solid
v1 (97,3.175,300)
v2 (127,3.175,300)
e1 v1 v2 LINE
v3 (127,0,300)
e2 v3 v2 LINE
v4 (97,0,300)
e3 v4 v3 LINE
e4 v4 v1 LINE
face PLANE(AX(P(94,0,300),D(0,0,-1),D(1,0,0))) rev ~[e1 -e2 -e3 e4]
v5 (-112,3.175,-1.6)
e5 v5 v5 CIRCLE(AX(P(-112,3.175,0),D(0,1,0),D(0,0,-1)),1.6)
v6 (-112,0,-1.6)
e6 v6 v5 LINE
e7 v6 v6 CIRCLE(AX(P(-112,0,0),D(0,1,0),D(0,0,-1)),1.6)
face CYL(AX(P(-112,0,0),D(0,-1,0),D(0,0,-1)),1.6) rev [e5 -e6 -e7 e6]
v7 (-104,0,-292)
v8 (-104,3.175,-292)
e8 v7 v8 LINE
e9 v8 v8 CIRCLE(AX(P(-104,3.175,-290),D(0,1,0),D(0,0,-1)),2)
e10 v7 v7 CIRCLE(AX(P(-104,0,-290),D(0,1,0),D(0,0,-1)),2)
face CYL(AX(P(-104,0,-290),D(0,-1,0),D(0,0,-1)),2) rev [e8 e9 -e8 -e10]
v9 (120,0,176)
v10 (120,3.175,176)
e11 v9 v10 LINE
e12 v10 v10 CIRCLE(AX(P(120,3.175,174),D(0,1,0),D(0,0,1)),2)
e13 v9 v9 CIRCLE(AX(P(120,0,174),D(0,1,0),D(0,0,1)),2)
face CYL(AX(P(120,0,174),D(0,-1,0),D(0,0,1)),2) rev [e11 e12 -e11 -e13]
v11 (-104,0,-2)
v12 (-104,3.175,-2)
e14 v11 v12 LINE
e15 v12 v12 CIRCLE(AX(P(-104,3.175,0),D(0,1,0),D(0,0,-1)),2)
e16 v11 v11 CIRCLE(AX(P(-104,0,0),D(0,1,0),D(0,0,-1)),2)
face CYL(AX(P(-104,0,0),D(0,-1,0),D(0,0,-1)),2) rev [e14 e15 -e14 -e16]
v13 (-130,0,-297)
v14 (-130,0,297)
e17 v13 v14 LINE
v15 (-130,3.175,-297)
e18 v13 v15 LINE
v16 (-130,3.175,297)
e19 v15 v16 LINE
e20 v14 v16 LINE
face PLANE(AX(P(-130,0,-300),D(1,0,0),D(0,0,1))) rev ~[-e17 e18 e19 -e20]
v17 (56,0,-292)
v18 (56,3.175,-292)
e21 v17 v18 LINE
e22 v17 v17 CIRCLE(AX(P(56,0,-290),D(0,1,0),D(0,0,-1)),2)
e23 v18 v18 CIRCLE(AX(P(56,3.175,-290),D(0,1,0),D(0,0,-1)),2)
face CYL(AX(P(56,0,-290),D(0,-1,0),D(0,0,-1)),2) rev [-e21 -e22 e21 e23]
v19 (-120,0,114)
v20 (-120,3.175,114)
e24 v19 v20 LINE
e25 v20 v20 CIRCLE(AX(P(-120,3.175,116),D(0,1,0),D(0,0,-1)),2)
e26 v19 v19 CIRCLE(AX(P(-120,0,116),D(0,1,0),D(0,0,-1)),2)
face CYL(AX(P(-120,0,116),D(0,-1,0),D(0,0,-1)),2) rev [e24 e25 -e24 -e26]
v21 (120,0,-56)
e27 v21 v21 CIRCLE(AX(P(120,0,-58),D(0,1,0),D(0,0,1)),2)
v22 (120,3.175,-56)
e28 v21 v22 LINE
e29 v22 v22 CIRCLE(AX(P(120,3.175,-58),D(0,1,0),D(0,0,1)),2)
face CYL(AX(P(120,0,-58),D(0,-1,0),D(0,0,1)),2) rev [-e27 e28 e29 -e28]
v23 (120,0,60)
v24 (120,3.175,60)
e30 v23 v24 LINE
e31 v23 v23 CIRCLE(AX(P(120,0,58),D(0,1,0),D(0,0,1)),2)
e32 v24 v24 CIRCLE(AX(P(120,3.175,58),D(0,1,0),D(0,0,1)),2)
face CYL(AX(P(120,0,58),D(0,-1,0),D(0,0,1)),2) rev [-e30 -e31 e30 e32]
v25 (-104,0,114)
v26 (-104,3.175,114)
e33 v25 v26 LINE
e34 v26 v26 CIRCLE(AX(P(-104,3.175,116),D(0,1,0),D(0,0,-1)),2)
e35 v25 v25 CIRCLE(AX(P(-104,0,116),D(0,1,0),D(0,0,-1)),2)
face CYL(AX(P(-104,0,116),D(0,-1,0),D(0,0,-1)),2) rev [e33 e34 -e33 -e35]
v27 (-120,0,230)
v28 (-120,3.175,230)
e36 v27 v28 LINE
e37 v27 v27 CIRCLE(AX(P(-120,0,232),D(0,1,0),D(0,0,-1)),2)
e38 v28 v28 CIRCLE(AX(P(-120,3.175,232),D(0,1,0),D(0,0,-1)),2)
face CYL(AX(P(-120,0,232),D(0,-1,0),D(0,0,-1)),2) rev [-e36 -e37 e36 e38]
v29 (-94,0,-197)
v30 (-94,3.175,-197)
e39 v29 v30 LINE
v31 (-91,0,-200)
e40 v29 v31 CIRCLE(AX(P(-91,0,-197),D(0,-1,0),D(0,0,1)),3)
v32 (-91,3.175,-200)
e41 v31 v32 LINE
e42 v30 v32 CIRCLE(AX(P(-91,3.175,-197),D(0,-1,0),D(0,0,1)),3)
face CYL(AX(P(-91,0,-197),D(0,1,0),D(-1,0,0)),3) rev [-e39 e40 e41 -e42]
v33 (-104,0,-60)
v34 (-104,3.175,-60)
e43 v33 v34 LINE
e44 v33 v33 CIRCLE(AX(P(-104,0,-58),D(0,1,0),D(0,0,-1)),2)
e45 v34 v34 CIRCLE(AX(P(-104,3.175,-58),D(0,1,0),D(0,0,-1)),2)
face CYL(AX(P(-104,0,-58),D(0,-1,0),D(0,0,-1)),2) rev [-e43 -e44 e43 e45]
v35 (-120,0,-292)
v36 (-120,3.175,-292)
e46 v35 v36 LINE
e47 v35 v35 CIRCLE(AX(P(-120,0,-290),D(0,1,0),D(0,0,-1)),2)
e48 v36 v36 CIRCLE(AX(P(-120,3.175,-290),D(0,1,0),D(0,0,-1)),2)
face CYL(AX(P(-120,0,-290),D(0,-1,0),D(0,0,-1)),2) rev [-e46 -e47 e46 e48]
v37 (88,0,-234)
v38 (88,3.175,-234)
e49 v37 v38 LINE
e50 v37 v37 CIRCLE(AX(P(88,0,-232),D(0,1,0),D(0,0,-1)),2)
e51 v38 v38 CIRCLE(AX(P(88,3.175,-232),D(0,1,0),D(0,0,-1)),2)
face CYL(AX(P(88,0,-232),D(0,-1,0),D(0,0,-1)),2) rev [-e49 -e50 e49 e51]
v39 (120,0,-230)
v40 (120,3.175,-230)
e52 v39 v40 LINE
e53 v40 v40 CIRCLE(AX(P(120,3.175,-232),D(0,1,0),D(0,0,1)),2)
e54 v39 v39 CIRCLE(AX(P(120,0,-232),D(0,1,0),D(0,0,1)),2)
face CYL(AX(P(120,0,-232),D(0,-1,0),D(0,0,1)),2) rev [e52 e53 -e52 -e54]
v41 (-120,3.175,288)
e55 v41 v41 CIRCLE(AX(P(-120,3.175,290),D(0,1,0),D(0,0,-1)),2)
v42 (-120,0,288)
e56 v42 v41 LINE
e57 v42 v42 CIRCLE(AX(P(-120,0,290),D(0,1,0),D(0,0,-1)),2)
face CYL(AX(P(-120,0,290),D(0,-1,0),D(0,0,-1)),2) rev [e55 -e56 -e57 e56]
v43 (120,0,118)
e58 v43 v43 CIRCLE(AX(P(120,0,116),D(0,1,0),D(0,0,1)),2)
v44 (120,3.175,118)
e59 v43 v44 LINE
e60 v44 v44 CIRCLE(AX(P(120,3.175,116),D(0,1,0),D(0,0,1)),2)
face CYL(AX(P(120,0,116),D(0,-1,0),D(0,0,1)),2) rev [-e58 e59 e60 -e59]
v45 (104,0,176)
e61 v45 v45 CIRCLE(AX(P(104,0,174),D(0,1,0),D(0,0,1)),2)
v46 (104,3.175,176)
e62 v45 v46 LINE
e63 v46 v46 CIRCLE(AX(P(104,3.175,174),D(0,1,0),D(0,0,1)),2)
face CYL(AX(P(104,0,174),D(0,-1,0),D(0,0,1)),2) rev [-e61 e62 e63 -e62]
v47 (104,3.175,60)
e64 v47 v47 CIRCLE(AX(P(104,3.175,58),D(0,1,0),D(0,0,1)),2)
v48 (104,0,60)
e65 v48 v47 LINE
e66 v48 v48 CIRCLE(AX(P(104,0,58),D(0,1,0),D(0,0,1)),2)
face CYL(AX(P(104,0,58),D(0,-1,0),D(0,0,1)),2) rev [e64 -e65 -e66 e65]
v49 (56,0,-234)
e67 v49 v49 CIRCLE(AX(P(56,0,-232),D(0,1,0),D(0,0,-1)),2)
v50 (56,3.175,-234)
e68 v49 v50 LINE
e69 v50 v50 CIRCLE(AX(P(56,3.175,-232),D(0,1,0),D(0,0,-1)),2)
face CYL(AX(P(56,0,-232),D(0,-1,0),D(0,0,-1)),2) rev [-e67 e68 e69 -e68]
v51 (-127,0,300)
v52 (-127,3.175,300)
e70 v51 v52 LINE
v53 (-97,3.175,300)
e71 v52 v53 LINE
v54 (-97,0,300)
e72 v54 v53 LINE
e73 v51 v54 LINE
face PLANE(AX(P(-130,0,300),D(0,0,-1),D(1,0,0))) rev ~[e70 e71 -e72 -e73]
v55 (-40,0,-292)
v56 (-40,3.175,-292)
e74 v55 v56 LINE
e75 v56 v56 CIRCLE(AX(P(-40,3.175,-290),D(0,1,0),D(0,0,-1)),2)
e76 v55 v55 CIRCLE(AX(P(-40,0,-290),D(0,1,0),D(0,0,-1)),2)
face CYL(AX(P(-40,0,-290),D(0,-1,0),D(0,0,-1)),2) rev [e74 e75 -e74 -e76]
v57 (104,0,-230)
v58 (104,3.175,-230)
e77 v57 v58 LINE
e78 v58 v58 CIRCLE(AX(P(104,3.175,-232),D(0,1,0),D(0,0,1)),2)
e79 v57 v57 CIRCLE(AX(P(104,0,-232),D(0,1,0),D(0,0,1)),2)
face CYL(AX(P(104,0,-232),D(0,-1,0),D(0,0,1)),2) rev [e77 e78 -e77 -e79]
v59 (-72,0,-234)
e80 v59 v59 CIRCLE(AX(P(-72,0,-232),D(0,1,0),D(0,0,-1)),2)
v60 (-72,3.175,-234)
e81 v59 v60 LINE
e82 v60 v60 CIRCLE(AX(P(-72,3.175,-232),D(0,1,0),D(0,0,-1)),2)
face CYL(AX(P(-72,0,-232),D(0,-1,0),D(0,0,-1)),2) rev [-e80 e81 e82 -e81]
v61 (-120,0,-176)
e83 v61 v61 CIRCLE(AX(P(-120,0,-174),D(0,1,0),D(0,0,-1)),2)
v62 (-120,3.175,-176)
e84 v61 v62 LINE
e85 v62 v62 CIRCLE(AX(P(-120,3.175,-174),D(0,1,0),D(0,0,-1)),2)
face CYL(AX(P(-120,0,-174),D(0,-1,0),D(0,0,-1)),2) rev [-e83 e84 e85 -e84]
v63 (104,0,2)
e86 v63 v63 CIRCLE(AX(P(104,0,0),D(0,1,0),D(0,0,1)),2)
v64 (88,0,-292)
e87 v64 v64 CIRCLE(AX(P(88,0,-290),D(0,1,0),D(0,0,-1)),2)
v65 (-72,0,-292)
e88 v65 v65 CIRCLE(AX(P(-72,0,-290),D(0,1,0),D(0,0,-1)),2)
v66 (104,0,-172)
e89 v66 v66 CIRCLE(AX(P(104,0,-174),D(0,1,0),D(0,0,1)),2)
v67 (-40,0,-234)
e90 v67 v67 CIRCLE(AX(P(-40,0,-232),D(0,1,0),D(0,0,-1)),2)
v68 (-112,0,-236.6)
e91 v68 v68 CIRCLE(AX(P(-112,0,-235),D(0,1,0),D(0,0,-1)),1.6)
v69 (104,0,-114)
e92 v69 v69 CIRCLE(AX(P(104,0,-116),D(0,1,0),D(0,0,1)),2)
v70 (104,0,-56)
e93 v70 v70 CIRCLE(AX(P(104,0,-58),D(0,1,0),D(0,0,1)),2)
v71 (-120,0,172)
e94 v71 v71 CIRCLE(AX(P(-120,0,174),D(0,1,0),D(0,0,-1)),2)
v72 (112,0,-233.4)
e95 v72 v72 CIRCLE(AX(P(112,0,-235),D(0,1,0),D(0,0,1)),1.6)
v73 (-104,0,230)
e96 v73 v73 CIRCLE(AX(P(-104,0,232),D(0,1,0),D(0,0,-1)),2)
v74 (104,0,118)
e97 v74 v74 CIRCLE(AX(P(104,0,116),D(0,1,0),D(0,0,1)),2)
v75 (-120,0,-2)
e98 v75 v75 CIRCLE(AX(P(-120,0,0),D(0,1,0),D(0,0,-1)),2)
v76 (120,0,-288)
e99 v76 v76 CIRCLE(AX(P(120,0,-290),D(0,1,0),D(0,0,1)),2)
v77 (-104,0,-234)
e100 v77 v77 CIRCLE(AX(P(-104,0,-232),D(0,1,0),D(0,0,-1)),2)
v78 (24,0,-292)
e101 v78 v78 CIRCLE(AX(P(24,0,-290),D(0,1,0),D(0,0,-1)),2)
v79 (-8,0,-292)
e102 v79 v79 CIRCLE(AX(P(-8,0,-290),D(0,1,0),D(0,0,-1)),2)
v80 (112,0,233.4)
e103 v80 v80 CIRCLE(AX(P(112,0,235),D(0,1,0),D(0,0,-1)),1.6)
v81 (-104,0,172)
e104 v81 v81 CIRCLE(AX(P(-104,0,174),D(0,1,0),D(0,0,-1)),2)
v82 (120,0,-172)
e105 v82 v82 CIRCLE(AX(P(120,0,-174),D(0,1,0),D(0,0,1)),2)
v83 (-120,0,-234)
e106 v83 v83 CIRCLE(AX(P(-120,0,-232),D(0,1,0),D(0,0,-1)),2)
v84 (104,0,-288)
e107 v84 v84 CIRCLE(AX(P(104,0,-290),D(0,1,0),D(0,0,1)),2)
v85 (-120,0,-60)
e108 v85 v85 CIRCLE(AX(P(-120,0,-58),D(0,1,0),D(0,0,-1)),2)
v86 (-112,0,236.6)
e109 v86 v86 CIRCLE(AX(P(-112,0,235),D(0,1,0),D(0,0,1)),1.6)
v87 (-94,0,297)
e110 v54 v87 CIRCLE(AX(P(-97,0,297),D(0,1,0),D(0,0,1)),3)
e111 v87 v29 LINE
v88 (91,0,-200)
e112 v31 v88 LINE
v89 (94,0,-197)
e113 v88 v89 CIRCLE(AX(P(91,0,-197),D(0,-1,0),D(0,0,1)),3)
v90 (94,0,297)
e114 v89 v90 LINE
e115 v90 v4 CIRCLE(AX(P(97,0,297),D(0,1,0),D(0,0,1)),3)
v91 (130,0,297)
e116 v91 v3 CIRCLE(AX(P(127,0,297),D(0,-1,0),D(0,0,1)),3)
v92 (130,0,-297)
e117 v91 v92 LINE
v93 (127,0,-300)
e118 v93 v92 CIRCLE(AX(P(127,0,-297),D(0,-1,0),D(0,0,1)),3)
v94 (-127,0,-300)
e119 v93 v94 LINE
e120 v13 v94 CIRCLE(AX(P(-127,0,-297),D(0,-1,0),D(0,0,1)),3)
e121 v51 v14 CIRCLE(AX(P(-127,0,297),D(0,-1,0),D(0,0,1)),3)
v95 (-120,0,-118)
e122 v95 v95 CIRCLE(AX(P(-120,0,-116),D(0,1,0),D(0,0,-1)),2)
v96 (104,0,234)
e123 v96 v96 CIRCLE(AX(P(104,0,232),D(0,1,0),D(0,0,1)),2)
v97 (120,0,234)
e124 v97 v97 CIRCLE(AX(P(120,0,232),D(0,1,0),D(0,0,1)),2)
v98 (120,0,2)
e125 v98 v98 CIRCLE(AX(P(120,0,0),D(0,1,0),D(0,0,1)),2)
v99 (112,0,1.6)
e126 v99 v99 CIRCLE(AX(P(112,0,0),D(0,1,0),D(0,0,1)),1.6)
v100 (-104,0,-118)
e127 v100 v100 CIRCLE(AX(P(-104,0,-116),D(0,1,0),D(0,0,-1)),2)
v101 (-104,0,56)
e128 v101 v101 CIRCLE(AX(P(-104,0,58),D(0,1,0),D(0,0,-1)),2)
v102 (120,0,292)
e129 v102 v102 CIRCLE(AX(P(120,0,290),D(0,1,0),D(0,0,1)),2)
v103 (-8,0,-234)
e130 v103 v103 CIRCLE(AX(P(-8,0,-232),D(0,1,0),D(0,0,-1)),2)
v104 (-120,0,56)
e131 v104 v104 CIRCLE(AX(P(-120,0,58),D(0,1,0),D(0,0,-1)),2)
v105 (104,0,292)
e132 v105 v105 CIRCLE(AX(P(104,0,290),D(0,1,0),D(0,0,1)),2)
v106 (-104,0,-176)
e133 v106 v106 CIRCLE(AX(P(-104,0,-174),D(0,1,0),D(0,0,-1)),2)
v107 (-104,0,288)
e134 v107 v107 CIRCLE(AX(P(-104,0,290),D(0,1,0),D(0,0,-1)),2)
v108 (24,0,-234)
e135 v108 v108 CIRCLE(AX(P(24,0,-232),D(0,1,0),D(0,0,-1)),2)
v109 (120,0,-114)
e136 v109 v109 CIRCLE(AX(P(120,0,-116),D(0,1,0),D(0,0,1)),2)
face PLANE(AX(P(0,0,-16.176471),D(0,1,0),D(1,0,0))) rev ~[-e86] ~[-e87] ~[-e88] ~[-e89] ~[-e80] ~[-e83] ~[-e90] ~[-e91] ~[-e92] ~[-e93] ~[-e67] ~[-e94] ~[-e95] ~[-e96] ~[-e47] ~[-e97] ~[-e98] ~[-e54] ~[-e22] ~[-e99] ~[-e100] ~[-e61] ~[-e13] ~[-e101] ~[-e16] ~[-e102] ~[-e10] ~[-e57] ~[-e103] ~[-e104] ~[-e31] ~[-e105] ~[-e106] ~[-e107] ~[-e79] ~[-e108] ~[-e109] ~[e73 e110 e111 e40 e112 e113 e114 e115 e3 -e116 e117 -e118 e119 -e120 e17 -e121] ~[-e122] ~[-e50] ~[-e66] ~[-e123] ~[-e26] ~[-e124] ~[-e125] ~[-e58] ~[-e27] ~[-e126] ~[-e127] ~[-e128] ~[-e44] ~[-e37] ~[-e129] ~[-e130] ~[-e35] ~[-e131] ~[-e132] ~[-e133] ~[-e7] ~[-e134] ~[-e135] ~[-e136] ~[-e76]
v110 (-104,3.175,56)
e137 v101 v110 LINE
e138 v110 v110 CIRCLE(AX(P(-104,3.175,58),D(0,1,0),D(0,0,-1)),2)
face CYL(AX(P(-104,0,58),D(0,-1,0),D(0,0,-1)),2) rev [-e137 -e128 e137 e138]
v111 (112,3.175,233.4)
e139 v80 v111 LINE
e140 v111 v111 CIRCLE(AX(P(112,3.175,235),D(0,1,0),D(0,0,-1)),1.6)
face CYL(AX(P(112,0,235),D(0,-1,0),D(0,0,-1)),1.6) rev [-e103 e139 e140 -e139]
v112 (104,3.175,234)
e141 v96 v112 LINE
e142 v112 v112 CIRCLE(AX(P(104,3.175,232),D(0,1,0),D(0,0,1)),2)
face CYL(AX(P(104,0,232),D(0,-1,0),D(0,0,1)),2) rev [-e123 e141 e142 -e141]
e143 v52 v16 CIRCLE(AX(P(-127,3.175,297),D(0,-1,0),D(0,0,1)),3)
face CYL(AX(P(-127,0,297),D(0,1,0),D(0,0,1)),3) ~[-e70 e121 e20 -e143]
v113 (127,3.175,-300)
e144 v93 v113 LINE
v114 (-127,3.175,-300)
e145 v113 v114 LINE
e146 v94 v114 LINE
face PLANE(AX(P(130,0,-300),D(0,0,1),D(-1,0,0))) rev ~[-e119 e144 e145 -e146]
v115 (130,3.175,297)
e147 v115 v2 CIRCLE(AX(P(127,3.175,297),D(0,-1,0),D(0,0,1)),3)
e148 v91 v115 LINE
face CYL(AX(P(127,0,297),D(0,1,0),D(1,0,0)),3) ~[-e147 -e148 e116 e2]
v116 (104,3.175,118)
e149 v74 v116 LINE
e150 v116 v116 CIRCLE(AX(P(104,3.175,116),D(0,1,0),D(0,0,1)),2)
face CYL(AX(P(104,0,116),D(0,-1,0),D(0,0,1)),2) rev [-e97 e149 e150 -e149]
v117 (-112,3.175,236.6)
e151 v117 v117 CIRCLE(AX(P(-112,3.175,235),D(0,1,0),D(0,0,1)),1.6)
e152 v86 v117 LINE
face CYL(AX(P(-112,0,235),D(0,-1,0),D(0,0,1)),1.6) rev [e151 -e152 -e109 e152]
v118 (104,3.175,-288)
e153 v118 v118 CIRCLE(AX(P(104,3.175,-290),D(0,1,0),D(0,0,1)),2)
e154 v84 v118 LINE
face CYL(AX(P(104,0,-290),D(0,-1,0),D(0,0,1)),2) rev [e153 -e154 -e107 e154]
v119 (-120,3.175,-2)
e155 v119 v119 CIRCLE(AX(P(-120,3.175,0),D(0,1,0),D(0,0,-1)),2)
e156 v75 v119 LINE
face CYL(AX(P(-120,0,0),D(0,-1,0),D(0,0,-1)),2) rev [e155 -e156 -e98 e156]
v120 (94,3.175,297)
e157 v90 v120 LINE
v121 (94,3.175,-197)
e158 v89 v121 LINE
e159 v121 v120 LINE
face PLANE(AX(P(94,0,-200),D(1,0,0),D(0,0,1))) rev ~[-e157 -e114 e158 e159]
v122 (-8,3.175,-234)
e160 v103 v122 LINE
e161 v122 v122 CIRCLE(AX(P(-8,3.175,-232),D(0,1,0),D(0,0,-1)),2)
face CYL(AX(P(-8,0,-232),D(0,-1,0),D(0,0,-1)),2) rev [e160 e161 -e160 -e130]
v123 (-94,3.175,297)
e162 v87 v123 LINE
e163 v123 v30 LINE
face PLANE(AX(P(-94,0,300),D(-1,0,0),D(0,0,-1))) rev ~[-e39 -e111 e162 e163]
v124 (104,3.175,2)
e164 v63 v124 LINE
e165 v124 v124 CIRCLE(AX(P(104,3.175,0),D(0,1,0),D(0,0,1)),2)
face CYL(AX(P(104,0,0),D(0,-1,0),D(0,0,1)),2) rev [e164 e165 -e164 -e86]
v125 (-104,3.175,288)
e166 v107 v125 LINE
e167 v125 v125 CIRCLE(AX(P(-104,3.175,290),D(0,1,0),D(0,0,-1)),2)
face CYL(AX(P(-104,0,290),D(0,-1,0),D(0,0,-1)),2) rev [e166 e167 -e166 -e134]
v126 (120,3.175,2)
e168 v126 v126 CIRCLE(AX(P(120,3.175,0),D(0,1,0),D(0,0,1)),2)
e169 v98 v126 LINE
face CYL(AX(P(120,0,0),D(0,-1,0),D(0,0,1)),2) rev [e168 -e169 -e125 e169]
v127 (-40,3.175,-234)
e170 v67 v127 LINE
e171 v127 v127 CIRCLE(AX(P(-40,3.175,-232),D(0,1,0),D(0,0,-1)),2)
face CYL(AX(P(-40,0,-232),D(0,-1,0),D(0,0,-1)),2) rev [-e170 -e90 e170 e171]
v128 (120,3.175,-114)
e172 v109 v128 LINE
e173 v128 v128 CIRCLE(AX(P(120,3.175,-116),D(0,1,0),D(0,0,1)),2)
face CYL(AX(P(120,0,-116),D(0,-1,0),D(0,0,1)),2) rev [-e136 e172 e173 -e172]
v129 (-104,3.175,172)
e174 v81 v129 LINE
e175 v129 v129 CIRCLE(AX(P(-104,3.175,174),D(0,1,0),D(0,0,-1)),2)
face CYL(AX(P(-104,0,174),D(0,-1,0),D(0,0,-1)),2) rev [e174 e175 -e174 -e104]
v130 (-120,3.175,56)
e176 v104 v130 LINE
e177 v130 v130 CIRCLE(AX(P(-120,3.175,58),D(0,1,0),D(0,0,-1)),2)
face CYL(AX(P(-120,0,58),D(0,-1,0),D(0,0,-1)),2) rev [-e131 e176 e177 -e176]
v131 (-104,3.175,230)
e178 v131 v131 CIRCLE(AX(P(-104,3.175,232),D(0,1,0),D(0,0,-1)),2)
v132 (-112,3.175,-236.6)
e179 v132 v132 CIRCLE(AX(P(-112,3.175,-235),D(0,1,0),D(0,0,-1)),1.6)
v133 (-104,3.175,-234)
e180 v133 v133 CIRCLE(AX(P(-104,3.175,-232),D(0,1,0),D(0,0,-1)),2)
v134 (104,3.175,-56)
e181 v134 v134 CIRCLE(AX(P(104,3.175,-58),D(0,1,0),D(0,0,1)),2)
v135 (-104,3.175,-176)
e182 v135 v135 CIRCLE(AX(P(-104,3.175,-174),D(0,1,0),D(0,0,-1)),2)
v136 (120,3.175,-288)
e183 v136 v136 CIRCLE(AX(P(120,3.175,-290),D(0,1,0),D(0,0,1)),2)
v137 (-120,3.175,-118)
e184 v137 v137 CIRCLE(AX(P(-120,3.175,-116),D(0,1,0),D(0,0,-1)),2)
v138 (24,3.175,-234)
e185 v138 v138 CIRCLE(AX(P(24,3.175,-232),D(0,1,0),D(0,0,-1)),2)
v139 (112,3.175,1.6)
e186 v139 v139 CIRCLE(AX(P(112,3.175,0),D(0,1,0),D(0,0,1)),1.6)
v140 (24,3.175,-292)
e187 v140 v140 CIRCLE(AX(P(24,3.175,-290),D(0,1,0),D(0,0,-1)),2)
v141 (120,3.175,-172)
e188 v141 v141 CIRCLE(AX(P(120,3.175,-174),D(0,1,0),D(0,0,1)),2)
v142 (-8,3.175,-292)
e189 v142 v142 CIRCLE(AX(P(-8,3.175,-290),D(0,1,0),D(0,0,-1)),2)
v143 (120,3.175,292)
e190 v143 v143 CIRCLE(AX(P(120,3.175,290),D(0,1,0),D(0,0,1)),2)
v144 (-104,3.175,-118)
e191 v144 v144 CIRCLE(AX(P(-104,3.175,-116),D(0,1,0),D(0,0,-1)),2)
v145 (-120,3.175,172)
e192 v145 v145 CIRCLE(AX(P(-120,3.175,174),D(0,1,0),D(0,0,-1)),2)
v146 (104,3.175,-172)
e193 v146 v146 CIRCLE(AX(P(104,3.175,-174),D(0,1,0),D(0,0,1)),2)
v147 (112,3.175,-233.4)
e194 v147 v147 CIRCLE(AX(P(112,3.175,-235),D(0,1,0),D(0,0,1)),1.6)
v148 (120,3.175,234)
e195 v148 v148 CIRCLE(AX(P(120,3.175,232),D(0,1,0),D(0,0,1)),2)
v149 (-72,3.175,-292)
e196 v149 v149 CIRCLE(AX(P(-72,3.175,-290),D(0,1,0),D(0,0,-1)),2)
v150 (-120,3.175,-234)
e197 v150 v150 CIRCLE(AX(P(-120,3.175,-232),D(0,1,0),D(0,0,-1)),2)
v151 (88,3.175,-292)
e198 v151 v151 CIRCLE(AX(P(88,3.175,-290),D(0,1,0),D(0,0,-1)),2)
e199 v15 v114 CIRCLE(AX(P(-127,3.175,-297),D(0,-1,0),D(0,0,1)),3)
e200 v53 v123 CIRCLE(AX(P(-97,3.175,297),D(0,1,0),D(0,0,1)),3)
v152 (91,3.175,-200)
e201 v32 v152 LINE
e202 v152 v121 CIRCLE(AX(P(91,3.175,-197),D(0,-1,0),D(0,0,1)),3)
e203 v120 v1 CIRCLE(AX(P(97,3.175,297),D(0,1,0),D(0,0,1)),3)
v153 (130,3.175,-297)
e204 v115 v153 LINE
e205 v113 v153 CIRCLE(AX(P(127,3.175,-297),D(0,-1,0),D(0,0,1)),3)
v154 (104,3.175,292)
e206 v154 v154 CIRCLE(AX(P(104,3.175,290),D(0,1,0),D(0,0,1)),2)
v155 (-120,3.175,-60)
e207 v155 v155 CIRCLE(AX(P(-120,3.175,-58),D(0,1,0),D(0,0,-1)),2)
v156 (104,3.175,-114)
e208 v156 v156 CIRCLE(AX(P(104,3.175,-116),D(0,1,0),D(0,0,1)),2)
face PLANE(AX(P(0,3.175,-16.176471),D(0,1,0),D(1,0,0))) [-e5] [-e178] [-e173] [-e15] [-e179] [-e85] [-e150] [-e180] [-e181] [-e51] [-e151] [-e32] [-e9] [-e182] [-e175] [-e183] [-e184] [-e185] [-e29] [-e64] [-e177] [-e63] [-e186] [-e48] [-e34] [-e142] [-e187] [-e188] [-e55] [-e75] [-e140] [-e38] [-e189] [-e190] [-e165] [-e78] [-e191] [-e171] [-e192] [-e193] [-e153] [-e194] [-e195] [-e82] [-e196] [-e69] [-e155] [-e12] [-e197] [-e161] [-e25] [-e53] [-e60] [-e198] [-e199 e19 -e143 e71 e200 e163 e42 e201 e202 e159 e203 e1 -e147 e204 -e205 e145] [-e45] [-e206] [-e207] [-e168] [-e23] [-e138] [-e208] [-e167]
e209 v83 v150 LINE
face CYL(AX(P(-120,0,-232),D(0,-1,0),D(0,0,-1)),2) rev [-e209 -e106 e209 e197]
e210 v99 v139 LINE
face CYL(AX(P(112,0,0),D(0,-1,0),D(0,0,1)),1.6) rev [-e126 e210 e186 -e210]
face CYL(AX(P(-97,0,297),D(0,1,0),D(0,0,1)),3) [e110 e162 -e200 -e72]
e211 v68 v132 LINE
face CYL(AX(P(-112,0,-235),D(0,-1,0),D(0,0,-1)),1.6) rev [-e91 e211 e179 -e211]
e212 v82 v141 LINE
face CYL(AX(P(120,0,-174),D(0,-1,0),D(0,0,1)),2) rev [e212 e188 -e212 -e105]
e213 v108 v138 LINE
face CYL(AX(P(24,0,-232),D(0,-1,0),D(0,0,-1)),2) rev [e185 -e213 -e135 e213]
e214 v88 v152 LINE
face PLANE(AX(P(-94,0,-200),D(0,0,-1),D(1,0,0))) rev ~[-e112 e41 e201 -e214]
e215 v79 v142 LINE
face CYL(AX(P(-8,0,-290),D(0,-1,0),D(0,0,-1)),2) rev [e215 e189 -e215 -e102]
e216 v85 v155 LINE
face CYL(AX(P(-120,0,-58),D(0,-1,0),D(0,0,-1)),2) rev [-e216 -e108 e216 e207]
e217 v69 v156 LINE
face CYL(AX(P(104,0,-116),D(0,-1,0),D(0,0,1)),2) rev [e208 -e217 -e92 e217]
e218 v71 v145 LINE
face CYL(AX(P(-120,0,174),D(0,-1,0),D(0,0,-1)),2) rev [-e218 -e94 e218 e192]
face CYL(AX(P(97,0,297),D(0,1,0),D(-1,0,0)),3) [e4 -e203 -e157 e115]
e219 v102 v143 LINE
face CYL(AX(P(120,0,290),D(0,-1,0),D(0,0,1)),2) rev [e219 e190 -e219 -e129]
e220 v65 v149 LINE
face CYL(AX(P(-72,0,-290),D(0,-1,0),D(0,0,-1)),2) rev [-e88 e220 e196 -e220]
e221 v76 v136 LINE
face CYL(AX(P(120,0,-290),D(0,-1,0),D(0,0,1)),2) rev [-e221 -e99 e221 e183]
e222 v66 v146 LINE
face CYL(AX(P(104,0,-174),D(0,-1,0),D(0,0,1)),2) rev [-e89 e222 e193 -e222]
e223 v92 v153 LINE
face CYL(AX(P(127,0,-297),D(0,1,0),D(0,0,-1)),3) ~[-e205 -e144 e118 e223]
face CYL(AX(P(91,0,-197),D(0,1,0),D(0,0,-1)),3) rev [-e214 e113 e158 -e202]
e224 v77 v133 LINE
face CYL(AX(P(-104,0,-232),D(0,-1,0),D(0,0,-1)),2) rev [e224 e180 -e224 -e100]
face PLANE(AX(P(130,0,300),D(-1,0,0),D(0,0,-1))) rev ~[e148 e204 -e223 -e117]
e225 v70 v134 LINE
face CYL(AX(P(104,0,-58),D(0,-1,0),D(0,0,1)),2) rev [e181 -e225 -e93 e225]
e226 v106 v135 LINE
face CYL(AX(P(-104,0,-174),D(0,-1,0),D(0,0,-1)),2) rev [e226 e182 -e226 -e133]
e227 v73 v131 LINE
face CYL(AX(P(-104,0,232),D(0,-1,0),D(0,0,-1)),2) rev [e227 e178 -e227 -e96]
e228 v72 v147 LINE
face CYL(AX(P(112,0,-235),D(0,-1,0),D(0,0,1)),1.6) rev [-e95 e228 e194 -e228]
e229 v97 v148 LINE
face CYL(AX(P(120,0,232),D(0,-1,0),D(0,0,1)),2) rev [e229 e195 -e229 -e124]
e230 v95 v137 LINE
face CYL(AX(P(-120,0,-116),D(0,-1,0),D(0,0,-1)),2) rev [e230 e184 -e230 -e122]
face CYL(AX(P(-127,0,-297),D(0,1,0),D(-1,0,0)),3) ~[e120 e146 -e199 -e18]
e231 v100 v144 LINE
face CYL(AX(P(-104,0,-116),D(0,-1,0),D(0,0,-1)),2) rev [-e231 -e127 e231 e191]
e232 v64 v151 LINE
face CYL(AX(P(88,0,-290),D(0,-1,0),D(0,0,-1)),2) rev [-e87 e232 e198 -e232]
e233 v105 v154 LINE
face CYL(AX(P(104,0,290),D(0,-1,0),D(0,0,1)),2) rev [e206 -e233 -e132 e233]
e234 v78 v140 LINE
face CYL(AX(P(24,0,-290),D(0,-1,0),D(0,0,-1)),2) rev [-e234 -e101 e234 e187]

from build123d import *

# Parameters (mm, degrees)
SKETCH1_R           = 2
SKETCH1_R_2         = 1.6
BOSS_EXTRUDE1_DEPTH = 3.175
FILLET1_R           = 3


with BuildPart() as part:
    # Sketch1 → Boss-Extrude1 (new body)
    with BuildSketch(Plane(origin=(0, 0, 0), x_dir=(1, 0, 0), z_dir=(0, 1, 0))):
        Polygon((-130, -300), (-94, -300), (-94, 200), (94, 200), (94, -300), (130, -300), (130, 300), (-130, 300), align=None)
        with Locations(Location((120, 290, 0), (0, 0, 270))):
            Circle(SKETCH1_R, mode=Mode.SUBTRACT)
        with Locations(Location((120, 232, 0), (0, 0, 270))):
            Circle(SKETCH1_R, mode=Mode.SUBTRACT)
        with Locations(Location((120, 174, 0), (0, 0, 270))):
            Circle(SKETCH1_R, mode=Mode.SUBTRACT)
        with Locations(Location((120, 116, 0), (0, 0, 270))):
            Circle(SKETCH1_R, mode=Mode.SUBTRACT)
        with Locations(Location((120, 58, 0), (0, 0, 270))):
            Circle(SKETCH1_R, mode=Mode.SUBTRACT)
        with Locations(Location((120, 0, 0), (0, 0, 270))):
            Circle(SKETCH1_R, mode=Mode.SUBTRACT)
        with Locations(Location((120, -58, 0), (0, 0, 270))):
            Circle(SKETCH1_R, mode=Mode.SUBTRACT)
        with Locations(Location((120, -116, 0), (0, 0, 270))):
            Circle(SKETCH1_R, mode=Mode.SUBTRACT)
        with Locations(Location((120, -174, 0), (0, 0, 270))):
            Circle(SKETCH1_R, mode=Mode.SUBTRACT)
        with Locations(Location((120, -232, 0), (0, 0, 270))):
            Circle(SKETCH1_R, mode=Mode.SUBTRACT)
        with Locations(Location((120, -290, 0), (0, 0, 270))):
            Circle(SKETCH1_R, mode=Mode.SUBTRACT)
        with Locations(Location((-120, 232, 0), (0, 0, 90))):
            Circle(SKETCH1_R, mode=Mode.SUBTRACT)
        with Locations(Location((-120, -290, 0), (0, 0, 90))):
            Circle(SKETCH1_R, mode=Mode.SUBTRACT)
        with Locations(Location((-120, -232, 0), (0, 0, 90))):
            Circle(SKETCH1_R, mode=Mode.SUBTRACT)
        with Locations(Location((-120, -174, 0), (0, 0, 90))):
            Circle(SKETCH1_R, mode=Mode.SUBTRACT)
        with Locations(Location((-120, -116, 0), (0, 0, 90))):
            Circle(SKETCH1_R, mode=Mode.SUBTRACT)
        with Locations(Location((-120, -58, 0), (0, 0, 90))):
            Circle(SKETCH1_R, mode=Mode.SUBTRACT)
        with Locations(Location((-120, 0, 0), (0, 0, 90))):
            Circle(SKETCH1_R, mode=Mode.SUBTRACT)
        with Locations(Location((-120, 58, 0), (0, 0, 90))):
            Circle(SKETCH1_R, mode=Mode.SUBTRACT)
        with Locations(Location((-120, 116, 0), (0, 0, 90))):
            Circle(SKETCH1_R, mode=Mode.SUBTRACT)
        with Locations(Location((-120, 174, 0), (0, 0, 90))):
            Circle(SKETCH1_R, mode=Mode.SUBTRACT)
        with Locations(Location((-120, 290, 0), (0, 0, 90))):
            Circle(SKETCH1_R, mode=Mode.SUBTRACT)
        with Locations(Location((112, 235, 0), (0, 0, 270))):
            Circle(SKETCH1_R_2, mode=Mode.SUBTRACT)
        with Locations(Location((-112, 235, 0), (0, 0, 90))):
            Circle(SKETCH1_R_2, mode=Mode.SUBTRACT)
        with Locations(Location((112, -235, 0), (0, 0, 90))):
            Circle(SKETCH1_R_2, mode=Mode.SUBTRACT)
        with Locations(Location((-112, -235, 0), (0, 0, 270))):
            Circle(SKETCH1_R_2, mode=Mode.SUBTRACT)
        with Locations(Location((104, 290, 0), (0, 0, 270))):
            Circle(SKETCH1_R, mode=Mode.SUBTRACT)
        with Locations(Location((104, 232, 0), (0, 0, 270))):
            Circle(SKETCH1_R, mode=Mode.SUBTRACT)
        with Locations(Location((104, 174, 0), (0, 0, 270))):
            Circle(SKETCH1_R, mode=Mode.SUBTRACT)
        with Locations(Location((104, 116, 0), (0, 0, 270))):
            Circle(SKETCH1_R, mode=Mode.SUBTRACT)
        with Locations(Location((104, 58, 0), (0, 0, 270))):
            Circle(SKETCH1_R, mode=Mode.SUBTRACT)
        with Locations(Location((104, 0, 0), (0, 0, 270))):
            Circle(SKETCH1_R, mode=Mode.SUBTRACT)
        with Locations(Location((104, -58, 0), (0, 0, 270))):
            Circle(SKETCH1_R, mode=Mode.SUBTRACT)
        with Locations(Location((104, -116, 0), (0, 0, 270))):
            Circle(SKETCH1_R, mode=Mode.SUBTRACT)
        with Locations(Location((104, -174, 0), (0, 0, 270))):
            Circle(SKETCH1_R, mode=Mode.SUBTRACT)
        with Locations(Location((104, -232, 0), (0, 0, 270))):
            Circle(SKETCH1_R, mode=Mode.SUBTRACT)
        with Locations(Location((104, -290, 0), (0, 0, 270))):
            Circle(SKETCH1_R, mode=Mode.SUBTRACT)
        with Locations(Location((-104, -290, 0), (0, 0, 90))):
            Circle(SKETCH1_R, mode=Mode.SUBTRACT)
        with Locations(Location((-104, -232, 0), (0, 0, 90))):
            Circle(SKETCH1_R, mode=Mode.SUBTRACT)
        with Locations(Location((-104, -174, 0), (0, 0, 90))):
            Circle(SKETCH1_R, mode=Mode.SUBTRACT)
        with Locations(Location((-104, -116, 0), (0, 0, 90))):
            Circle(SKETCH1_R, mode=Mode.SUBTRACT)
        with Locations(Location((-104, -58, 0), (0, 0, 90))):
            Circle(SKETCH1_R, mode=Mode.SUBTRACT)
        with Locations(Location((-104, 0, 0), (0, 0, 90))):
            Circle(SKETCH1_R, mode=Mode.SUBTRACT)
        with Locations(Location((-104, 58, 0), (0, 0, 90))):
            Circle(SKETCH1_R, mode=Mode.SUBTRACT)
        with Locations(Location((-104, 116, 0), (0, 0, 90))):
            Circle(SKETCH1_R, mode=Mode.SUBTRACT)
        with Locations(Location((-104, 174, 0), (0, 0, 90))):
            Circle(SKETCH1_R, mode=Mode.SUBTRACT)
        with Locations(Location((-104, 232, 0), (0, 0, 90))):
            Circle(SKETCH1_R, mode=Mode.SUBTRACT)
        with Locations(Location((-104, 290, 0), (0, 0, 90))):
            Circle(SKETCH1_R, mode=Mode.SUBTRACT)
        with Locations(Location((112, 0, 0), (0, 0, 270))):
            Circle(SKETCH1_R_2, mode=Mode.SUBTRACT)
        with Locations(Location((-112, 0, 0), (0, 0, 90))):
            Circle(SKETCH1_R_2, mode=Mode.SUBTRACT)
        with Locations(Location((-72, 290, 0), (0, 0, 90))):
            Circle(SKETCH1_R, mode=Mode.SUBTRACT)
        with Locations(Location((-40, 290, 0), (0, 0, 90))):
            Circle(SKETCH1_R, mode=Mode.SUBTRACT)
        with Locations(Location((-8, 290, 0), (0, 0, 90))):
            Circle(SKETCH1_R, mode=Mode.SUBTRACT)
        with Locations(Location((24, 290, 0), (0, 0, 90))):
            Circle(SKETCH1_R, mode=Mode.SUBTRACT)
        with Locations(Location((56, 290, 0), (0, 0, 90))):
            Circle(SKETCH1_R, mode=Mode.SUBTRACT)
        with Locations(Location((88, 290, 0), (0, 0, 90))):
            Circle(SKETCH1_R, mode=Mode.SUBTRACT)
        with Locations(Location((-72, 232, 0), (0, 0, 90))):
            Circle(SKETCH1_R, mode=Mode.SUBTRACT)
        with Locations(Location((-40, 232, 0), (0, 0, 90))):
            Circle(SKETCH1_R, mode=Mode.SUBTRACT)
        with Locations(Location((-8, 232, 0), (0, 0, 90))):
            Circle(SKETCH1_R, mode=Mode.SUBTRACT)
        with Locations(Location((24, 232, 0), (0, 0, 90))):
            Circle(SKETCH1_R, mode=Mode.SUBTRACT)
        with Locations(Location((56, 232, 0), (0, 0, 90))):
            Circle(SKETCH1_R, mode=Mode.SUBTRACT)
        with Locations(Location((88, 232, 0), (0, 0, 90))):
            Circle(SKETCH1_R, mode=Mode.SUBTRACT)
    extrude(amount=BOSS_EXTRUDE1_DEPTH)

    # Fillet1
    fillet1_edges = [part.edges().sort_by_distance(p)[0] for p in [
        (130, 1.5875, 300),
        (94, 1.5875, 300),
        (94, 1.5875, -200),
        (-94, 1.5875, -200),
        (-94, 1.5875, 300),
        (-130, 1.5875, 300),
        (-130, 1.5875, -300),
        (130, 1.5875, -300),
    ]]
    fillet(fillet1_edges, radius=FILLET1_R)


solid = part.part
